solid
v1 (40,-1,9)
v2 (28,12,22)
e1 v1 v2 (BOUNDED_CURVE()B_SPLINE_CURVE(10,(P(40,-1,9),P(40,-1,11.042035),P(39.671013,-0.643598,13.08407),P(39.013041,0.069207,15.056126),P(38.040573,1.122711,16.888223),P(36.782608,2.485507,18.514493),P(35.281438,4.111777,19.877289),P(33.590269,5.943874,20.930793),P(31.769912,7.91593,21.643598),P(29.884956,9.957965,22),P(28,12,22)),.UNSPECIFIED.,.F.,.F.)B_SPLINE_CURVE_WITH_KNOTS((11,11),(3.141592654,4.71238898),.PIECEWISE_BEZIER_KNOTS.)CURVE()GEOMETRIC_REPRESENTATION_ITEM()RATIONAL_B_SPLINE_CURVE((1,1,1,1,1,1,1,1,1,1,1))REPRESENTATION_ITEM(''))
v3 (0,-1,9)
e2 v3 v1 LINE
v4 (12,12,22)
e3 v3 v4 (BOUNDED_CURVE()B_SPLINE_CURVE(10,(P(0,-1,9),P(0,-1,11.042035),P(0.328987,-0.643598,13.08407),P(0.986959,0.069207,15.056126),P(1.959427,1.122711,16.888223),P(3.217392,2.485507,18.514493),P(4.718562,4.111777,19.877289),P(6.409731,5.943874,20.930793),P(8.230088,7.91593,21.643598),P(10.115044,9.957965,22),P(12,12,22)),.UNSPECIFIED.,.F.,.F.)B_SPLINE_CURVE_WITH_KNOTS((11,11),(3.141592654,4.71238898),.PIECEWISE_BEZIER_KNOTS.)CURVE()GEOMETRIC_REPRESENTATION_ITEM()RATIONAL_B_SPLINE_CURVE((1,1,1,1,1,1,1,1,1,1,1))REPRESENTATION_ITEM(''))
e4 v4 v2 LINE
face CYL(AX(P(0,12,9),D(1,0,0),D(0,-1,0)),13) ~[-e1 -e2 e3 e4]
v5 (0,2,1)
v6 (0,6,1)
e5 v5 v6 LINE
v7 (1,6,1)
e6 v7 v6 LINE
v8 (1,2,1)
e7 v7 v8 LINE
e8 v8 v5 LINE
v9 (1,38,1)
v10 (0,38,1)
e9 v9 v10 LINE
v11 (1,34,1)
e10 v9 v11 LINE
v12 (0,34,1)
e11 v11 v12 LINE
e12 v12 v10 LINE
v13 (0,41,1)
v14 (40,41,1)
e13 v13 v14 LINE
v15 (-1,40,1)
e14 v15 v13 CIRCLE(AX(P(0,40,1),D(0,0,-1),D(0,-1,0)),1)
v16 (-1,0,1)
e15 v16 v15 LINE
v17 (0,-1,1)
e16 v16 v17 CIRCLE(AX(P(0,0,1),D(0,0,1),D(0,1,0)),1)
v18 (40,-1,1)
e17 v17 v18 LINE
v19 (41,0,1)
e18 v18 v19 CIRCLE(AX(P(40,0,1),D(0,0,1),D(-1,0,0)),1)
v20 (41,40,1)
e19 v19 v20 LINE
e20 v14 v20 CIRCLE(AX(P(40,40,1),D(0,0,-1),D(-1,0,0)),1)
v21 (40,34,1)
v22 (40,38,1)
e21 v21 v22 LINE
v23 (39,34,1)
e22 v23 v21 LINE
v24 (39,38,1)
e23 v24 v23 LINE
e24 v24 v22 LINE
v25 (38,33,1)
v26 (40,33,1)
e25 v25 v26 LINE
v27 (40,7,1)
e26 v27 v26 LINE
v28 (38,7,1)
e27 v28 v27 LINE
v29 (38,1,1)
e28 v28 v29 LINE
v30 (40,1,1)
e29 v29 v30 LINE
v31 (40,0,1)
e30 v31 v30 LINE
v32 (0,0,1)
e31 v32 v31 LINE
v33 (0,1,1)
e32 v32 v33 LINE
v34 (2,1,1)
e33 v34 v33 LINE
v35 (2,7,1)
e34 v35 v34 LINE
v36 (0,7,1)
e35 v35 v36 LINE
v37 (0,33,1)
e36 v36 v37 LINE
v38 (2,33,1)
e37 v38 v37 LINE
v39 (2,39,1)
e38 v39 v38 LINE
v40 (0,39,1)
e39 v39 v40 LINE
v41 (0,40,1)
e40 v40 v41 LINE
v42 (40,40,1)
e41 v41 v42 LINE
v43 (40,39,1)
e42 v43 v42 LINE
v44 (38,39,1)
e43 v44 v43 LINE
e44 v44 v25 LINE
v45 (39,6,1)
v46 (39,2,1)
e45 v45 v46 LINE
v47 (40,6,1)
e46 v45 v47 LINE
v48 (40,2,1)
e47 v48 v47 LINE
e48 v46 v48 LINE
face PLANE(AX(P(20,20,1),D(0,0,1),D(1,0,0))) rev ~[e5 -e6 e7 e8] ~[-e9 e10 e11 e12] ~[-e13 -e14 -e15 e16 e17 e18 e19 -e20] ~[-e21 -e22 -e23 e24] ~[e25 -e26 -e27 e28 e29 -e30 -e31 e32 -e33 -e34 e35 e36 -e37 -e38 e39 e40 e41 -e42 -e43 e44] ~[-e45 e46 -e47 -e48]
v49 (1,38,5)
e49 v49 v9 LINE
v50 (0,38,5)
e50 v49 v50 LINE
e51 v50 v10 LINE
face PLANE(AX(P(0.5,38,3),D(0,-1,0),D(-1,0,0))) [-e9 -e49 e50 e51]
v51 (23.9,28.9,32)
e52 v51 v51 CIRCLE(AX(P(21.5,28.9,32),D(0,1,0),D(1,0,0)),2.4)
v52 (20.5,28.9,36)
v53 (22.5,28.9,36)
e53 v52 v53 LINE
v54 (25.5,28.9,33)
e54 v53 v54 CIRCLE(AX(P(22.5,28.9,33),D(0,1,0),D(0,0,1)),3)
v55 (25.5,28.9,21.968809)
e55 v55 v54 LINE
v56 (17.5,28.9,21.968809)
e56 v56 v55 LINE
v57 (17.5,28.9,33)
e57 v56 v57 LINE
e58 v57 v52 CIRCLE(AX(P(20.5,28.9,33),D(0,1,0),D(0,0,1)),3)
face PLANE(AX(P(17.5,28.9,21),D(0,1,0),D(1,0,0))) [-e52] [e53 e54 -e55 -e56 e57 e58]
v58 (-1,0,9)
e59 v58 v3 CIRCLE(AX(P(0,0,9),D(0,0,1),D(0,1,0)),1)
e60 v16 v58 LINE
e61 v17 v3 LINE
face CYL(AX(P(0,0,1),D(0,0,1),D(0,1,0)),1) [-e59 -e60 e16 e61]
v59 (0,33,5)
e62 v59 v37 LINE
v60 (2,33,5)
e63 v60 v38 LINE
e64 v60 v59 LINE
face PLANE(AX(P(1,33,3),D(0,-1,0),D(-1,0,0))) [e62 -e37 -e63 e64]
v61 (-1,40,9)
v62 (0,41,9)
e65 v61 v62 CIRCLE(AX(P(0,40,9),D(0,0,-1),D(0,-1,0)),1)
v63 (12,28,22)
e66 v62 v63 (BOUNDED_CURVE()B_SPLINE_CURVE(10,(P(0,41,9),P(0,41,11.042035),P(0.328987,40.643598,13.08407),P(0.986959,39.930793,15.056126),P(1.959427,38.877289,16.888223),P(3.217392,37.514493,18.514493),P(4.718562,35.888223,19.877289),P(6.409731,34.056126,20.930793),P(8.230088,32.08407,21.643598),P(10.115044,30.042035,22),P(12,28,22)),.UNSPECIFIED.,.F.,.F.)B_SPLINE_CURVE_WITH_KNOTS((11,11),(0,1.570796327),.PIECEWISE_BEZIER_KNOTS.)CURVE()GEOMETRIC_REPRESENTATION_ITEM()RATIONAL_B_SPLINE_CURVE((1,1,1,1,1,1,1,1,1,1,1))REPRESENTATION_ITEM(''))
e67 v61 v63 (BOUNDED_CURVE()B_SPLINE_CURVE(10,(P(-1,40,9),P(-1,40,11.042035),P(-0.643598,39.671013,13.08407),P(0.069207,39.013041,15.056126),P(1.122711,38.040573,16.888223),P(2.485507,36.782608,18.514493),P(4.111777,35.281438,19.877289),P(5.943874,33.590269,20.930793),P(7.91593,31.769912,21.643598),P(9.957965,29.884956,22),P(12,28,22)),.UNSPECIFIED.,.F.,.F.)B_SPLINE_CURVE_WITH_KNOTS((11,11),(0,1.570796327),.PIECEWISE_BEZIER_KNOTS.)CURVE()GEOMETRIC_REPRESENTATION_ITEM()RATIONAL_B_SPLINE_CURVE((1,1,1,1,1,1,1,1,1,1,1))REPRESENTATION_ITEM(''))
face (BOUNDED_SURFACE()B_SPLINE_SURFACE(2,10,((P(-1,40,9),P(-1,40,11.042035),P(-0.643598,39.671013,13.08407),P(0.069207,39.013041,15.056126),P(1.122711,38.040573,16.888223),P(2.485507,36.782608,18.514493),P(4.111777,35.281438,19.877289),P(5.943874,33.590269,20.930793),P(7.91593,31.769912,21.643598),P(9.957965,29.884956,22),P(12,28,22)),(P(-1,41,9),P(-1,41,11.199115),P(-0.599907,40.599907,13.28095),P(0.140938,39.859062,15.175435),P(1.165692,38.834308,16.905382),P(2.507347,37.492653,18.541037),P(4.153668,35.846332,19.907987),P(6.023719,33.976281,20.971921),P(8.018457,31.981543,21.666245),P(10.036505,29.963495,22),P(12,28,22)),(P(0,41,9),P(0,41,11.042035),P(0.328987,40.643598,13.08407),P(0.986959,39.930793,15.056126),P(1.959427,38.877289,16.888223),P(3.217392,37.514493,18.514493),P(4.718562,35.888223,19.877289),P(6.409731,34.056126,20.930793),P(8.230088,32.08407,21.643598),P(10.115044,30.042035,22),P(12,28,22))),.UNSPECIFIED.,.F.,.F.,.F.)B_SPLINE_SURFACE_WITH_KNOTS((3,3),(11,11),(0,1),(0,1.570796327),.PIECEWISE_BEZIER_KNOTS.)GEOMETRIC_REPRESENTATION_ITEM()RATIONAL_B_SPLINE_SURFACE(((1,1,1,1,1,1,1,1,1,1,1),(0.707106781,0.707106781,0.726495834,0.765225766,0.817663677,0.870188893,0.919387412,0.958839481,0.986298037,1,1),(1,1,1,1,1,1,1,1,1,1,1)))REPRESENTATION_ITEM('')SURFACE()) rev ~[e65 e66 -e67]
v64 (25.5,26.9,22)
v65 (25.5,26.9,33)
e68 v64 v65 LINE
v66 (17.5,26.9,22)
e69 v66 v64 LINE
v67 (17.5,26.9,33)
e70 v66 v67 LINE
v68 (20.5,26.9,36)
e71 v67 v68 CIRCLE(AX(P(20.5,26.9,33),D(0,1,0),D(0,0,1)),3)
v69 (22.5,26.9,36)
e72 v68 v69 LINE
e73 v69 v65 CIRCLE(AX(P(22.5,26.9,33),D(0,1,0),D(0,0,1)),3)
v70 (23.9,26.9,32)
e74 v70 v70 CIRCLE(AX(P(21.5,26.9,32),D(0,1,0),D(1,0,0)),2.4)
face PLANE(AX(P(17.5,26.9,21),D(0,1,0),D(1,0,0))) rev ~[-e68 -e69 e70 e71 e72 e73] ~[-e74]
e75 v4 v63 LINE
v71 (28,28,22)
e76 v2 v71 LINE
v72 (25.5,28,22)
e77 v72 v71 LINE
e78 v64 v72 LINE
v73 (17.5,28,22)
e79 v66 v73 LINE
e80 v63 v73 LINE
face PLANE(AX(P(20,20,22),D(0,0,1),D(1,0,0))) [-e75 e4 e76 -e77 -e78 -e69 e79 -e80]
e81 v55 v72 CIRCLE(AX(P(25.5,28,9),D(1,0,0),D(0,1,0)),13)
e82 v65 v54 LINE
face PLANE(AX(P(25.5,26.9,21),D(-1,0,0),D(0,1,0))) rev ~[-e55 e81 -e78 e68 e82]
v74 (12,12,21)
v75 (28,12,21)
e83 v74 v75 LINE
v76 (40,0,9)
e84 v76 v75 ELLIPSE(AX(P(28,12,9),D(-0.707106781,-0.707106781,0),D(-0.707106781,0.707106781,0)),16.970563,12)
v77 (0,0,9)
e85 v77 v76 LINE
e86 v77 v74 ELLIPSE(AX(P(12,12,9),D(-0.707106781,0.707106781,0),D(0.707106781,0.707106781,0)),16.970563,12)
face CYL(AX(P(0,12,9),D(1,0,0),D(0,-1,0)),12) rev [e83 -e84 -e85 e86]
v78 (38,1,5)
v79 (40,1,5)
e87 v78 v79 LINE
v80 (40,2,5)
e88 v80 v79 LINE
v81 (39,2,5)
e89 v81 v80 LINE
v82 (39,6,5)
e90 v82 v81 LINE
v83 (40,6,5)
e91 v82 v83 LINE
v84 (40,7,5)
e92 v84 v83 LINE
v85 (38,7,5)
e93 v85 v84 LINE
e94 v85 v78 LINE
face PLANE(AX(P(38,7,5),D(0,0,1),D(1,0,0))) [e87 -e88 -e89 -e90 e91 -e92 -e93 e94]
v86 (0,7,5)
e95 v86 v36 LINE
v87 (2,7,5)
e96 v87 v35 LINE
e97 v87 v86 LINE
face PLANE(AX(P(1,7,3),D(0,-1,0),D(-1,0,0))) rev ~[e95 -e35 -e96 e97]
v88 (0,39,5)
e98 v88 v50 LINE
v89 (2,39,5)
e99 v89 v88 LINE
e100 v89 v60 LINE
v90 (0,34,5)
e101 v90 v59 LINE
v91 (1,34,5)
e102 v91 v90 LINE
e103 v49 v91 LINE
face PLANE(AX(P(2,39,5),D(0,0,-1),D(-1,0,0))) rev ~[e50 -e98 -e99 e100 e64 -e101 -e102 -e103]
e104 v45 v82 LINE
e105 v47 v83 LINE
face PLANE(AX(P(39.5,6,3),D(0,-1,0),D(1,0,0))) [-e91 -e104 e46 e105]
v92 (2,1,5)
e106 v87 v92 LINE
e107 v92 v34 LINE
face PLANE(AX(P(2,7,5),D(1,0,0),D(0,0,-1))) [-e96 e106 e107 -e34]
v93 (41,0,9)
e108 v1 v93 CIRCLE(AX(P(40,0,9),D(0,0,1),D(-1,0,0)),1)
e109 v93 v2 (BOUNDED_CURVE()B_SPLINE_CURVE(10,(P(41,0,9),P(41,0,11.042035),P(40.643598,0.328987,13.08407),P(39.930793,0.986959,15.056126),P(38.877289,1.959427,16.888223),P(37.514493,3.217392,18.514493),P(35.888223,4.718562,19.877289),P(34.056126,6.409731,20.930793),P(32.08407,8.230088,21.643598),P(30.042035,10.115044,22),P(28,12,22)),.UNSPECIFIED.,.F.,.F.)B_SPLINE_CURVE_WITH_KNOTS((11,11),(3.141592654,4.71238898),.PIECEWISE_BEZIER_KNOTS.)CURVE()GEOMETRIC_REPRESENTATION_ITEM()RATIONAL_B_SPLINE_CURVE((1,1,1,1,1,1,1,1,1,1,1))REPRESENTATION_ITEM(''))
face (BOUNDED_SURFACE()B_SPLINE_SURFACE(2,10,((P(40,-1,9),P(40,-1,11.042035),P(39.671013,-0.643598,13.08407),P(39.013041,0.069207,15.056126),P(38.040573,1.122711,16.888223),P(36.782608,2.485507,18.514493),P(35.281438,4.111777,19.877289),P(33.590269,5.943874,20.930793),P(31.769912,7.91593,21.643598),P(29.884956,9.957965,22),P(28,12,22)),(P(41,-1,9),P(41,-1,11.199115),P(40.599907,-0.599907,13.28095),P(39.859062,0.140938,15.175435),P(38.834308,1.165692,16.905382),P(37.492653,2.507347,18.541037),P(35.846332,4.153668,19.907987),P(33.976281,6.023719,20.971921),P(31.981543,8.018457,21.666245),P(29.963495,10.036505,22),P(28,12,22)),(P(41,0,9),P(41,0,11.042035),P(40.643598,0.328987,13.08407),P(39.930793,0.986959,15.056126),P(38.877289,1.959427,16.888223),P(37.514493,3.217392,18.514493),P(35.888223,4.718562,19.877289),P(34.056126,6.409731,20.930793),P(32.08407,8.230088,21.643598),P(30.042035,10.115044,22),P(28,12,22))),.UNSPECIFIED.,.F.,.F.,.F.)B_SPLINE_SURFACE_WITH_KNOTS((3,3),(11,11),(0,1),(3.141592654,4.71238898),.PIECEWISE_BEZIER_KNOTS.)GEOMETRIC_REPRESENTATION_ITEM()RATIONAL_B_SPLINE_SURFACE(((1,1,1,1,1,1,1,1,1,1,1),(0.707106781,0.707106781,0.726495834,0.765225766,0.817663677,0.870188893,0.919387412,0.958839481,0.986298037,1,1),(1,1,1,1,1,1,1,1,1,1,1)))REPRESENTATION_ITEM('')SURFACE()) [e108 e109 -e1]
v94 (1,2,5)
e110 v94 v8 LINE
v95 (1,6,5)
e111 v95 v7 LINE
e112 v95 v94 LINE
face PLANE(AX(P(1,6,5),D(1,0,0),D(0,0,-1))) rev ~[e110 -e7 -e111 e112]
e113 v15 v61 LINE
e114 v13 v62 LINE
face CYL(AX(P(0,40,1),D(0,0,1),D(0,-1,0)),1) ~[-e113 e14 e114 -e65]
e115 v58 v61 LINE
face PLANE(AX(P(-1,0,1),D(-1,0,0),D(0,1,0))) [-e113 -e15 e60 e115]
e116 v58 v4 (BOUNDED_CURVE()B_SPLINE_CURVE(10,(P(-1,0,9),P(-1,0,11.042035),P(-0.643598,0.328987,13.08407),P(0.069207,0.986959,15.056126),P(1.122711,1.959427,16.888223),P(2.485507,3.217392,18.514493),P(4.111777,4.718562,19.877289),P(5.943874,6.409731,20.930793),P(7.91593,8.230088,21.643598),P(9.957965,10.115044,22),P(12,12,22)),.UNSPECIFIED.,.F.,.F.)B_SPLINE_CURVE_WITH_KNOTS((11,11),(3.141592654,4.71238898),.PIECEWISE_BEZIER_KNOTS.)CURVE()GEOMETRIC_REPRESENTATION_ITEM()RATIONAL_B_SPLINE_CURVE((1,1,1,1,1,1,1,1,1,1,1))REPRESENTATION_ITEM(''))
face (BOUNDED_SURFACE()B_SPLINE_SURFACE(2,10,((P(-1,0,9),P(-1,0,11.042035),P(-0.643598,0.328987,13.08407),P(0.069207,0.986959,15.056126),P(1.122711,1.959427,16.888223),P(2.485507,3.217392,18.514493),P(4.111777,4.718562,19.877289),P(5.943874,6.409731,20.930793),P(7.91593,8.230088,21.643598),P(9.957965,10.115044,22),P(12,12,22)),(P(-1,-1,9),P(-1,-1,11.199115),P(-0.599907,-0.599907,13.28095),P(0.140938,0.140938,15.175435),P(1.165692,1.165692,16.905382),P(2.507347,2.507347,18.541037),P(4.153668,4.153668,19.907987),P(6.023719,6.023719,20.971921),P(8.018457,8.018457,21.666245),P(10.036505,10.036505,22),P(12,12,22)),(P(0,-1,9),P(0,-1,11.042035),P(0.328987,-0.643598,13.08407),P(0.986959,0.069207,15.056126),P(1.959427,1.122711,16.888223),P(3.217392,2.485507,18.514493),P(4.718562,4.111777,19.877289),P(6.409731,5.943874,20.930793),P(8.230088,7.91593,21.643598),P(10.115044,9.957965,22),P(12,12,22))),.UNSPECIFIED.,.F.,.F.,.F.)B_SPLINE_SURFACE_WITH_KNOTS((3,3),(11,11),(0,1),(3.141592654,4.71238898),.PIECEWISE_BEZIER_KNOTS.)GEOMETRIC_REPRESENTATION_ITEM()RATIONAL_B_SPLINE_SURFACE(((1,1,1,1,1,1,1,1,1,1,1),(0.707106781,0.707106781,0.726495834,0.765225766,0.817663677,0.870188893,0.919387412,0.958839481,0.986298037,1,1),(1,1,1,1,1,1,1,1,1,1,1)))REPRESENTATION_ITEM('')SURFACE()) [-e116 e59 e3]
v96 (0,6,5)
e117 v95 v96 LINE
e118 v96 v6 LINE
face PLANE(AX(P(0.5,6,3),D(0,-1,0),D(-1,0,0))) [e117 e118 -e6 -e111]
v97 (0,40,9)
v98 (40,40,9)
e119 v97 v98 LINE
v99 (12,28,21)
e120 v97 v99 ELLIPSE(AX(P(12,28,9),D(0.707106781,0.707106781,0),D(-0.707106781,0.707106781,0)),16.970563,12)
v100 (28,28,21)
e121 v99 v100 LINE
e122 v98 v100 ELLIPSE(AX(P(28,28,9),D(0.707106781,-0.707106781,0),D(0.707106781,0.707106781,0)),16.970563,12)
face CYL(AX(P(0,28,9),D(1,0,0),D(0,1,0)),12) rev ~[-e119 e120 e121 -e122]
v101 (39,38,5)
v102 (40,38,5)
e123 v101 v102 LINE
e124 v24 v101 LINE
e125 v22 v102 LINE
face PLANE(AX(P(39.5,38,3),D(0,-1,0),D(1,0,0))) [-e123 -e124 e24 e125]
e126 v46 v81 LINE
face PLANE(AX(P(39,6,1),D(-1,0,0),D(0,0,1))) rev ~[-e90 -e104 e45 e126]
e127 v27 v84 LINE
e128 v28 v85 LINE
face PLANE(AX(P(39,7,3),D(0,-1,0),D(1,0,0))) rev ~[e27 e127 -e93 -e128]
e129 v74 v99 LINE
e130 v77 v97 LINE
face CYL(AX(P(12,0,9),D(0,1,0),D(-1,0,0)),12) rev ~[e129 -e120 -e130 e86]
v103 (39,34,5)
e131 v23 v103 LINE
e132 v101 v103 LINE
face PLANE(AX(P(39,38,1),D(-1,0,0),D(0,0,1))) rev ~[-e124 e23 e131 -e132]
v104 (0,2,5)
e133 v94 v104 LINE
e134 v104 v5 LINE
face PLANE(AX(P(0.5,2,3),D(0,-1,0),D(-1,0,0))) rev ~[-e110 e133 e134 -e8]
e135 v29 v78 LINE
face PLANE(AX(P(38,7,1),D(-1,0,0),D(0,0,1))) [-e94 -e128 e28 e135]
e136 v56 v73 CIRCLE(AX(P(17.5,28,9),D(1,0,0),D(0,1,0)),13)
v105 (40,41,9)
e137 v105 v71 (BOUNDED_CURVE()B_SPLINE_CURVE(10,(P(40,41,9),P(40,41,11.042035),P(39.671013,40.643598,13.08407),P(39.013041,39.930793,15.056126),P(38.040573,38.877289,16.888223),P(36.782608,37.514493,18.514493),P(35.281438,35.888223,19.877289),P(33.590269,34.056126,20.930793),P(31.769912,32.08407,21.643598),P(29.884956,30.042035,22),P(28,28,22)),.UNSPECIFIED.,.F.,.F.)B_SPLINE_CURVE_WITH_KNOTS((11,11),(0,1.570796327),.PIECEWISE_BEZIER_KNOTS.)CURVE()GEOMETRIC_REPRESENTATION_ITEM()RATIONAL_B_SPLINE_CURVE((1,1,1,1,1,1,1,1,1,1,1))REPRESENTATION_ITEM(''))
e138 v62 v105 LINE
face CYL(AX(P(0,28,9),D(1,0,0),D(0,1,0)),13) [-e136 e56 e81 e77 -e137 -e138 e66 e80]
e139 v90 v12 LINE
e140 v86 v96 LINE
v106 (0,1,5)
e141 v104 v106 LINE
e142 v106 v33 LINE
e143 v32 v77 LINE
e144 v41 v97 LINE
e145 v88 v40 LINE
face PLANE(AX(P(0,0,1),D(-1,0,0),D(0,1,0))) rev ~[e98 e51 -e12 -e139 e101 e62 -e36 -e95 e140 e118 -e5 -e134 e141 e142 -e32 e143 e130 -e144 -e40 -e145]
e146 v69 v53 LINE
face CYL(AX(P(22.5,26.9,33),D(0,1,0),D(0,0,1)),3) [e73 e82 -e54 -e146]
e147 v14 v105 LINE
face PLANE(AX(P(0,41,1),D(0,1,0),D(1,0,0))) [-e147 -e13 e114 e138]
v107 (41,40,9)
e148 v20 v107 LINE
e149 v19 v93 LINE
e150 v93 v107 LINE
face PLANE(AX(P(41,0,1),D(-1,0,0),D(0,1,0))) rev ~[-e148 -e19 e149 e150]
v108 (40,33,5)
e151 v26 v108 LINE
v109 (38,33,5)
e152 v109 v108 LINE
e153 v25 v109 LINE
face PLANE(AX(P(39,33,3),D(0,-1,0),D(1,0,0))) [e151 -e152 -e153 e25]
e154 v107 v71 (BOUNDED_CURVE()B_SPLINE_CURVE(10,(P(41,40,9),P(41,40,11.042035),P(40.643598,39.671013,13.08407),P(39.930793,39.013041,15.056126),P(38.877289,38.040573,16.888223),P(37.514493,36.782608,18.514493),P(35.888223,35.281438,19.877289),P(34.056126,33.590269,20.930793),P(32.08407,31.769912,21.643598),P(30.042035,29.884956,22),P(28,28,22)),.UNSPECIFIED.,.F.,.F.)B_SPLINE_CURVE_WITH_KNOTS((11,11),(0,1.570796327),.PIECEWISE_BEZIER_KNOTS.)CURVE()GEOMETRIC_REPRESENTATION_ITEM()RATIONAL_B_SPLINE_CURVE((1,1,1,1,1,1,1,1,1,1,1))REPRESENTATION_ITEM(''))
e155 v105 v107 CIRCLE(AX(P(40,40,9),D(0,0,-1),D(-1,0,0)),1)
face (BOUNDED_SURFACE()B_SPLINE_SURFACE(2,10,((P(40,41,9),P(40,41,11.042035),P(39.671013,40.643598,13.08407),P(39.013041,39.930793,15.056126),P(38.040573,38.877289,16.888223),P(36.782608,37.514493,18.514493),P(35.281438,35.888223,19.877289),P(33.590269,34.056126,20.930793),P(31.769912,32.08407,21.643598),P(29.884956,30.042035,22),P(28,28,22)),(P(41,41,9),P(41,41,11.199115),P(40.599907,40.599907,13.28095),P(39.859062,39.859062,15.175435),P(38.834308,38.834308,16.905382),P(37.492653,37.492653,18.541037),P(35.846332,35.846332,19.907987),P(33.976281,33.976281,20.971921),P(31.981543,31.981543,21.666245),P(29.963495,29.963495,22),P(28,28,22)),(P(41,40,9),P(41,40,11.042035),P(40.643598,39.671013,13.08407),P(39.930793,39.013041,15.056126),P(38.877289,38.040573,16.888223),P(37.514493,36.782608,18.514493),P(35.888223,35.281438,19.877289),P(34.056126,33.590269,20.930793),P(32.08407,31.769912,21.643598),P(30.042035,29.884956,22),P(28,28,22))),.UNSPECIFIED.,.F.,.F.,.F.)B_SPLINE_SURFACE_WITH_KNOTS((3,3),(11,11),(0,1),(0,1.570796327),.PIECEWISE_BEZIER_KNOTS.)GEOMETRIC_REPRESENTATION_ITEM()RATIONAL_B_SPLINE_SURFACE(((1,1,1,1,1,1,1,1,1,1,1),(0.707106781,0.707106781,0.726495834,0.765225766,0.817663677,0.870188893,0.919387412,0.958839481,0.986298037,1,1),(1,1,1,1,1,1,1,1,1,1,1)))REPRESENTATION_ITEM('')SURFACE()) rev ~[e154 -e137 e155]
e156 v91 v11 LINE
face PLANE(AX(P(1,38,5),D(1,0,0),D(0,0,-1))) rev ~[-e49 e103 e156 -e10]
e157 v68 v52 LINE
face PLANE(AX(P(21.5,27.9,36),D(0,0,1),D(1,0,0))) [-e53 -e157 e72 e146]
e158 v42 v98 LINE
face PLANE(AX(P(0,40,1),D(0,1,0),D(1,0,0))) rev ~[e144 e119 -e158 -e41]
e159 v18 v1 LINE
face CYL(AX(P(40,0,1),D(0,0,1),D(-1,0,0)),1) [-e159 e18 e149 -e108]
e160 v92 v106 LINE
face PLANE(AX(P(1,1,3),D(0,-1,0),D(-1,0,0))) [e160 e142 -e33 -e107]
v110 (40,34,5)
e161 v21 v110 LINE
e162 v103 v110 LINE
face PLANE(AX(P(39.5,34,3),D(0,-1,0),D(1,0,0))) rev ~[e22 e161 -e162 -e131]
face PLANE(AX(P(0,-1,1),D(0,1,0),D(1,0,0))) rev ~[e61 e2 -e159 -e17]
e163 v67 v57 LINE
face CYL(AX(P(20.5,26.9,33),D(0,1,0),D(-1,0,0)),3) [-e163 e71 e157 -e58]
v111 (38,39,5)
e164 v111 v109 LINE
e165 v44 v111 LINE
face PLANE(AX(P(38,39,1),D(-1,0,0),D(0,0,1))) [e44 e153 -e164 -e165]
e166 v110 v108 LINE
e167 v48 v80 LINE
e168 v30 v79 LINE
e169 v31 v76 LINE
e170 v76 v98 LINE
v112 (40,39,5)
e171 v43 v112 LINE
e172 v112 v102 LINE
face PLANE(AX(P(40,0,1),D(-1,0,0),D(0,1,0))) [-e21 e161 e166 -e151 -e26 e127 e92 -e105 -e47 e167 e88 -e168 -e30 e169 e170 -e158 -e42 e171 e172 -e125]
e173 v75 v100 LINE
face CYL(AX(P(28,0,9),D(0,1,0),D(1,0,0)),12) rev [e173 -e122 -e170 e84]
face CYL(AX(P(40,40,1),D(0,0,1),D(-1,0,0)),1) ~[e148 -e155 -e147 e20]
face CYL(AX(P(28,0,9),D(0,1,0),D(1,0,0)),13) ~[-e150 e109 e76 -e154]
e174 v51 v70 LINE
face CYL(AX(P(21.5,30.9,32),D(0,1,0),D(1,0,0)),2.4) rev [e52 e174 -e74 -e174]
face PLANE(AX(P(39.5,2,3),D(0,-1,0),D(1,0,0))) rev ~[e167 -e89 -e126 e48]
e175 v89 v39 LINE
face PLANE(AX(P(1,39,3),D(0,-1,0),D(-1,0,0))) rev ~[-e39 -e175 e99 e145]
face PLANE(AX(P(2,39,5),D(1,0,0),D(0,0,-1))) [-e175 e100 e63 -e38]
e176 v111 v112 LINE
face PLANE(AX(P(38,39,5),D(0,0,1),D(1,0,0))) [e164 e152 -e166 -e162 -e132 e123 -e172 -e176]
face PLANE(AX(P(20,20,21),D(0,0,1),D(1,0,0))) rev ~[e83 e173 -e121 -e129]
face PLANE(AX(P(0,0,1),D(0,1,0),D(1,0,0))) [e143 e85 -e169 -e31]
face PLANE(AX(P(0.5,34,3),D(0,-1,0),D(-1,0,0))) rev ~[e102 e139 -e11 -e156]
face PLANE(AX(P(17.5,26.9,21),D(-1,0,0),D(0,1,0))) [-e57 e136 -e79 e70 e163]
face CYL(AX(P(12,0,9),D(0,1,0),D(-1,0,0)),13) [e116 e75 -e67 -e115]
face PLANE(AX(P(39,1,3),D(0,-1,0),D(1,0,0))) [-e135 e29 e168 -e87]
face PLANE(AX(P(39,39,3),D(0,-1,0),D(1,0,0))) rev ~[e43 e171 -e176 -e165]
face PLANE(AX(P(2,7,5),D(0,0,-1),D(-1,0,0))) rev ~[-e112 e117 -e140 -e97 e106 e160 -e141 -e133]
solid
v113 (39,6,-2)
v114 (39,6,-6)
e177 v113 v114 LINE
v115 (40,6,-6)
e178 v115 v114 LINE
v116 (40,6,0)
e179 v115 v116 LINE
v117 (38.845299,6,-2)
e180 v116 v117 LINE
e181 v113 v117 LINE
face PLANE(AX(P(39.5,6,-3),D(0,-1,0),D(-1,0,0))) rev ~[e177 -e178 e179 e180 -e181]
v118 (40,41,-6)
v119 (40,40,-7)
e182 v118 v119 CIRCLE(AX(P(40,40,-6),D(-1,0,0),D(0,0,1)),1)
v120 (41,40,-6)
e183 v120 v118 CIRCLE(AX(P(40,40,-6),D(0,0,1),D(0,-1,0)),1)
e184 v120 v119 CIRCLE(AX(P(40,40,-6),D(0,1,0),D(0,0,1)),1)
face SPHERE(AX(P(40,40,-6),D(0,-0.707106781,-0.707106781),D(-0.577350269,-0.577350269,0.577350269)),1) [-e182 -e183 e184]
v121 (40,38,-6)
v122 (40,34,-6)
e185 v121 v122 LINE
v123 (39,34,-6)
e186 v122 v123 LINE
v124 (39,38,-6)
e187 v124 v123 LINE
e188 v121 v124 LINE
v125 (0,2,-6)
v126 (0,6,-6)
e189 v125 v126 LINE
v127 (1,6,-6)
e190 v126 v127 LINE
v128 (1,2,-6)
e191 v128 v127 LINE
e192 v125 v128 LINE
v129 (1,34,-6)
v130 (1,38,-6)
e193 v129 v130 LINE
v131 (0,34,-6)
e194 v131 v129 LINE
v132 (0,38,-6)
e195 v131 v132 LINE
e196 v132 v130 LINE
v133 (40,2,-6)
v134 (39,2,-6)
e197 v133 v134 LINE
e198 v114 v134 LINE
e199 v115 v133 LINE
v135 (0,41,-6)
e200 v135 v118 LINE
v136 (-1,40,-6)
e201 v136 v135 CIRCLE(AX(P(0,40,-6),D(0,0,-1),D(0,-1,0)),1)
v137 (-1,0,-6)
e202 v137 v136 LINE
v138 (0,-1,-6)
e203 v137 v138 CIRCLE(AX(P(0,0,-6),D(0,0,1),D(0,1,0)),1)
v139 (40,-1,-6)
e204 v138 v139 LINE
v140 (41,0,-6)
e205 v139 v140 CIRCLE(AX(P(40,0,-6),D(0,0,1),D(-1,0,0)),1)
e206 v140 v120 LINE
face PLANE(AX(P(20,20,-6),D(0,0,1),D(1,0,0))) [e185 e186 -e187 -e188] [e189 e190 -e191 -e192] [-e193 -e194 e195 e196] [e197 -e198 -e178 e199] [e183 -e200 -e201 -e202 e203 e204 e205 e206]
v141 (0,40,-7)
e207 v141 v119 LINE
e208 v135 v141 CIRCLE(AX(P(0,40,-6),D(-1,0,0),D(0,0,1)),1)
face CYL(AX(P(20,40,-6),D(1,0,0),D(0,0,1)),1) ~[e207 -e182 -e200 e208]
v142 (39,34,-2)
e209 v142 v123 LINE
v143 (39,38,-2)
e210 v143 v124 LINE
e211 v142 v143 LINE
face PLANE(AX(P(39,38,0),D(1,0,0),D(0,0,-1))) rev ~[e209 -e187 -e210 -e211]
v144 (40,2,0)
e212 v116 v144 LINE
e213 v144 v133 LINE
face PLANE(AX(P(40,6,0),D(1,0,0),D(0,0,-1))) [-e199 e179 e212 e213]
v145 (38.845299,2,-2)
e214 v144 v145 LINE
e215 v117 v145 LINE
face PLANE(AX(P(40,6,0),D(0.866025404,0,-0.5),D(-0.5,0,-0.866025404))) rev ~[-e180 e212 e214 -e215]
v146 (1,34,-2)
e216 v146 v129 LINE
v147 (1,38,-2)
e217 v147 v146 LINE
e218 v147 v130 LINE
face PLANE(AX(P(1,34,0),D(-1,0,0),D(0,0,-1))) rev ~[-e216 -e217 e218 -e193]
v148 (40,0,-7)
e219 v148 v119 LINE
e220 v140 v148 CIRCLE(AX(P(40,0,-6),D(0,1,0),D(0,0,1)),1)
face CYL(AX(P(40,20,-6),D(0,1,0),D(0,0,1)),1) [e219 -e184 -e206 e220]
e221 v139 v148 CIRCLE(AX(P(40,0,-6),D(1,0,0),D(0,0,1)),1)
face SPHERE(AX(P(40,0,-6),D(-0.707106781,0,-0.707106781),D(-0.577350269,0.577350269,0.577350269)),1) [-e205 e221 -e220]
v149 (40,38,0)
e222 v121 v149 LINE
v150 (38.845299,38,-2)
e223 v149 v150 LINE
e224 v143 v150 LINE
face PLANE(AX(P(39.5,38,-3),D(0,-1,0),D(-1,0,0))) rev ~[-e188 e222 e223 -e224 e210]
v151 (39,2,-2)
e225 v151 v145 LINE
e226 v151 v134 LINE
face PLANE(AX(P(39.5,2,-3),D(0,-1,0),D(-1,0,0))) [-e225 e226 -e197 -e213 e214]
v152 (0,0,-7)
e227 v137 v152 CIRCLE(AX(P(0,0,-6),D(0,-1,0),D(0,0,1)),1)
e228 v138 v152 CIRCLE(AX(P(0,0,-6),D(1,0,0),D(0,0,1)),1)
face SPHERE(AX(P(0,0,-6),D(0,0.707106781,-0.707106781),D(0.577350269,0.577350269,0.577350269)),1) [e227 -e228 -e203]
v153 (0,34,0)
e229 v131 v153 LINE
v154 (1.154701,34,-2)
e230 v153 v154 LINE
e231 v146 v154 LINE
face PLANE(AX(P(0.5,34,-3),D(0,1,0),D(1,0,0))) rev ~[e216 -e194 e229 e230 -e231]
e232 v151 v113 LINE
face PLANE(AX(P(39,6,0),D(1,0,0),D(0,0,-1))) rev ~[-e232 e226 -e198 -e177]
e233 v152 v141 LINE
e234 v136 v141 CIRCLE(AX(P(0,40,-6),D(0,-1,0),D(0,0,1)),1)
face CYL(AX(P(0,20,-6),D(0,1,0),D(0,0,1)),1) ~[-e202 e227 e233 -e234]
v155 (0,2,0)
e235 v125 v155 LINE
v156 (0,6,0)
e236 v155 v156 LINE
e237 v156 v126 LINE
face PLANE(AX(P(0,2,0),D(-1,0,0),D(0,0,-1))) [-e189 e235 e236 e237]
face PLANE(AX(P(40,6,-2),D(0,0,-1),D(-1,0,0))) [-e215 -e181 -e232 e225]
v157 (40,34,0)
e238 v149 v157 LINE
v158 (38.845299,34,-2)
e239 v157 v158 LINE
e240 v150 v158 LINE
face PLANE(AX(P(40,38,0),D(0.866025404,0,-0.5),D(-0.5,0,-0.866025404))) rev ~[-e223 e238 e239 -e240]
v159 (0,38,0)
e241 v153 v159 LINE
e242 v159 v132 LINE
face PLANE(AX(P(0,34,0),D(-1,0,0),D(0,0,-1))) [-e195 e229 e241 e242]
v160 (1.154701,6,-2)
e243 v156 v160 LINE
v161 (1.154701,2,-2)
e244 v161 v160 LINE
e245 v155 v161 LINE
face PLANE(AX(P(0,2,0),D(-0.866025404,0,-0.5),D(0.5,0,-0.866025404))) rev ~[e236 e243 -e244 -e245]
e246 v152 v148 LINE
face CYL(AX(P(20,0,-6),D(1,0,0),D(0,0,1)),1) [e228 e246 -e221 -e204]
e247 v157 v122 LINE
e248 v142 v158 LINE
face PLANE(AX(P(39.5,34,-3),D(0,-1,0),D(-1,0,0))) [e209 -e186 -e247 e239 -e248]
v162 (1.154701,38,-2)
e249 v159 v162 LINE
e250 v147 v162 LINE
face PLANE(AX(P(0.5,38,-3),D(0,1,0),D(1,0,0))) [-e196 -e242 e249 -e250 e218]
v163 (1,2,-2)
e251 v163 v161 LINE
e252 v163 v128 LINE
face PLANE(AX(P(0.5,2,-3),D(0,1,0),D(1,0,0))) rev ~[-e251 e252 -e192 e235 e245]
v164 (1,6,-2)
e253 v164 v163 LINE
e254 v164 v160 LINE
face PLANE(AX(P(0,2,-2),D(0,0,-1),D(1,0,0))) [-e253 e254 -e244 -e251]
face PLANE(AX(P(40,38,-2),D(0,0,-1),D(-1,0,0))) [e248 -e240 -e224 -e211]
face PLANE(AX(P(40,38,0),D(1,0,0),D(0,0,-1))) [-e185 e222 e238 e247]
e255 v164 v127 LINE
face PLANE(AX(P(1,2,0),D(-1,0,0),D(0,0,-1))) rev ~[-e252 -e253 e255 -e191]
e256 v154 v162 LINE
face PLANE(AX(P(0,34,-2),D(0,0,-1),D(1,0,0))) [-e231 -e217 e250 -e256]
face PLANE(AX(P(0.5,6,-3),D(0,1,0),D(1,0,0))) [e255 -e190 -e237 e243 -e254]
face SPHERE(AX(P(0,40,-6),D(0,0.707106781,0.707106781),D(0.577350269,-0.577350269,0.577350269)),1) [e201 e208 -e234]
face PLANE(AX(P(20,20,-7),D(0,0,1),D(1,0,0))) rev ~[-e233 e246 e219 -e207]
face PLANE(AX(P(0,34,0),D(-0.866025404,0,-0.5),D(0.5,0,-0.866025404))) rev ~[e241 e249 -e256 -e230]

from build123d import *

# Parameters (mm, degrees)
BOX056_W               = 40
BOX056_H               = 40
BOX056_DEPTH           = 20
FILLET007_R            = 12
THICKNESS008_T         = 1
BOX064_W               = 1
BOX064_H               = 4
BOX064_DEPTH           = 4
BOX063_W               = 2
BOX063_H               = 4
BOX063_DEPTH           = 6
CUT027_ROLL_ANGLE      = -90
CUT027_PLACEMENT_ANGLE = 180
BOX062_W               = 1
BOX062_H               = 4
BOX062_DEPTH           = 4
BOX061_W               = 2
BOX061_H               = 4
BOX061_DEPTH           = 6
CUT026_ROLL_ANGLE      = -90
CUT026_PLACEMENT_ANGLE = 180
BOX060_W               = 1
BOX060_H               = 4
BOX060_DEPTH           = 4
BOX059_W               = 2
BOX059_H               = 4
BOX059_DEPTH           = 6
CUT025_PLACEMENT_ANGLE = 90
BOX058_W               = 1
BOX058_H               = 4
BOX058_DEPTH           = 4
BOX057_W               = 2
BOX057_H               = 4
BOX057_DEPTH           = 6
CUT024_PLACEMENT_ANGLE = 90
CYLINDER014_R          = 2.4
CYLINDER014_DEPTH      = 10
BOX053_W               = 8
BOX053_H               = 2
BOX053_DEPTH           = 15
FILLET005_R            = 3
BOX066_W               = 2
BOX066_H               = 3
BOX066_DEPTH           = 4
BOX066_PLACEMENT_ANGLE = 30
BOX068_W               = 1.2
BOX068_H               = 2
BOX068_DEPTH           = 4
BOX067_W               = 1
BOX067_H               = 6
BOX067_DEPTH           = 4
CUT028_PLACEMENT_ANGLE = 90
BOX069_W               = 2
BOX069_H               = 3
BOX069_DEPTH           = 4
BOX069_PLACEMENT_ANGLE = 30
BOX071_W               = 1.2
BOX071_H               = 2
BOX071_DEPTH           = 4
BOX070_W               = 1
BOX070_H               = 6
BOX070_DEPTH           = 4
CUT029_PLACEMENT_ANGLE = 90
BOX072_W               = 2
BOX072_H               = 3
BOX072_DEPTH           = 4
BOX072_PLACEMENT_ANGLE = 30
BOX074_W               = 1.2
BOX074_H               = 2
BOX074_DEPTH           = 4
BOX073_W               = 1
BOX073_H               = 6
BOX073_DEPTH           = 4
CUT030_ROLL_ANGLE      = -90
CUT030_PLACEMENT_ANGLE = 180
BOX075_W               = 2
BOX075_H               = 3
BOX075_DEPTH           = 4
BOX075_PLACEMENT_ANGLE = 30
BOX077_W               = 1.2
BOX077_H               = 2
BOX077_DEPTH           = 4
BOX076_W               = 1
BOX076_H               = 6
BOX076_DEPTH           = 4
CUT031_ROLL_ANGLE      = -90
CUT031_PLACEMENT_ANGLE = 180
BOX065_W               = 40
BOX065_H               = 40
BOX065_DEPTH           = 20
THICKNESS007_T         = 1
BOX055_W               = 42
BOX055_H               = 42
BOX055_DEPTH           = 1


with BuildPart() as thickness008:
    # Box056 → Box056 (new body)
    with BuildSketch(Plane.XY):
        with Locations((20, 20)):
            Rectangle(BOX056_W, BOX056_H)
    extrude(amount=BOX056_DEPTH)

    # Fillet007
    fillet007_edges = [thickness008.edges().sort_by_distance(p)[0] for p in [
        (0, 20, 20),
        (40, 20, 20),
        (20, 0, 20),
        (20, 40, 20),
    ]]
    fillet(fillet007_edges, radius=FILLET007_R)


with BuildPart() as thickness008_1:
    # Fillet007 placement: moved
    add(thickness008.part.moved(Location((0, 0, 1))))

    # Thickness008
    thickness008_openings = [thickness008_1.faces().sort_by_distance(p)[0] for p in [
        (20, 20, 1),
    ]]
    offset(amount=THICKNESS008_T, openings=thickness008_openings)


with BuildPart() as cube045:
    # Box064 → Box064 (new body)
    with BuildSketch(Plane(origin=(1, 0, 1), x_dir=(1, 0, 0), z_dir=(0, 0, 1))):
        with Locations((0.5, 2)):
            Rectangle(BOX064_W, BOX064_H)
    extrude(amount=BOX064_DEPTH)


with BuildPart() as cut027:
    # Box063 → Box063 (new body)
    with BuildSketch(Plane.XY):
        with Locations((1, 2)):
            Rectangle(BOX063_W, BOX063_H)
    extrude(amount=BOX063_DEPTH)

    # Cut027: cut Cube045
    add(cube045.part, mode=Mode.SUBTRACT)


with BuildPart() as cut027_1:
    # Cut027 roll: moved
    add(cut027.part.rotate(Axis((0, 0, 0), (1, 0, 0)), CUT027_ROLL_ANGLE))


with BuildPart() as cut027_2:
    # Cut027 placement: moved
    add(cut027_1.part.moved(Location((2, 39, 5))).rotate(Axis((2, 39, 5), (0, 0, 1)), CUT027_PLACEMENT_ANGLE))


with BuildPart() as cube043:
    # Box062 → Box062 (new body)
    with BuildSketch(Plane(origin=(1, 0, 1), x_dir=(1, 0, 0), z_dir=(0, 0, 1))):
        with Locations((0.5, 2)):
            Rectangle(BOX062_W, BOX062_H)
    extrude(amount=BOX062_DEPTH)


with BuildPart() as cut026:
    # Box061 → Box061 (new body)
    with BuildSketch(Plane.XY):
        with Locations((1, 2)):
            Rectangle(BOX061_W, BOX061_H)
    extrude(amount=BOX061_DEPTH)

    # Cut026: cut Cube043
    add(cube043.part, mode=Mode.SUBTRACT)


with BuildPart() as cut026_1:
    # Cut026 roll: moved
    add(cut026.part.rotate(Axis((0, 0, 0), (1, 0, 0)), CUT026_ROLL_ANGLE))


with BuildPart() as cut026_2:
    # Cut026 placement: moved
    add(cut026_1.part.moved(Location((2, 7, 5))).rotate(Axis((2, 7, 5), (0, 0, 1)), CUT026_PLACEMENT_ANGLE))


with BuildPart() as cube041:
    # Box060 → Box060 (new body)
    with BuildSketch(Plane(origin=(1, 0, 1), x_dir=(1, 0, 0), z_dir=(0, 0, 1))):
        with Locations((0.5, 2)):
            Rectangle(BOX060_W, BOX060_H)
    extrude(amount=BOX060_DEPTH)


with BuildPart() as cut025:
    # Box059 → Box059 (new body)
    with BuildSketch(Plane.XY):
        with Locations((1, 2)):
            Rectangle(BOX059_W, BOX059_H)
    extrude(amount=BOX059_DEPTH)

    # Cut025: cut Cube041
    add(cube041.part, mode=Mode.SUBTRACT)


with BuildPart() as cut025_1:
    # Cut025 placement: moved
    add(cut025.part.moved(Location((38, 39, 1))).rotate(Axis((38, 39, 1), (1, 0, 0)), CUT025_PLACEMENT_ANGLE))


with BuildPart() as cube039:
    # Box058 → Box058 (new body)
    with BuildSketch(Plane(origin=(1, 0, 1), x_dir=(1, 0, 0), z_dir=(0, 0, 1))):
        with Locations((0.5, 2)):
            Rectangle(BOX058_W, BOX058_H)
    extrude(amount=BOX058_DEPTH)


with BuildPart() as cut024:
    # Box057 → Box057 (new body)
    with BuildSketch(Plane.XY):
        with Locations((1, 2)):
            Rectangle(BOX057_W, BOX057_H)
    extrude(amount=BOX057_DEPTH)

    # Cut024: cut Cube039
    add(cube039.part, mode=Mode.SUBTRACT)


with BuildPart() as cut024_1:
    # Cut024 placement: moved
    add(cut024.part.moved(Location((38, 7, 1))).rotate(Axis((38, 7, 1), (1, 0, 0)), CUT024_PLACEMENT_ANGLE))


with BuildPart() as cylindre014:
    # Cylinder014 → Cylinder014 (new body)
    with BuildSketch(Plane(origin=(4, 4, 11), x_dir=(1, 0, 0), z_dir=(0, -1, 0))):
        Circle(CYLINDER014_R)
    extrude(amount=CYLINDER014_DEPTH)


with BuildPart() as paw_body:
    # Box053 → Box053 (new body)
    with BuildSketch(Plane.XY):
        with Locations((4, 1)):
            Rectangle(BOX053_W, BOX053_H)
    extrude(amount=BOX053_DEPTH)

    # Cut022: cut Cylindre014
    add(cylindre014.part, mode=Mode.SUBTRACT)


with BuildPart() as paw_body_1:
    # Cut022 placement: moved
    add(paw_body.part.moved(Location((17.5, 26.9, 86))))

    # Fillet005
    fillet005_edges = [paw_body_1.edges().sort_by_distance(p)[0] for p in [
        (17.5, 27.9, 101),
        (25.5, 27.9, 101),
    ]]
    fillet(fillet005_edges, radius=FILLET005_R)


with BuildPart() as paw_body_2:
    # Fillet005 placement: moved
    add(paw_body_1.part.moved(Location((0, 0, -65))))

    # Fusion021: union Thickness008, Cut027, Cut026, Cut025, Cut024
    add(thickness008_1.part)
    add(cut027_2.part)
    add(cut026_2.part)
    add(cut025_1.part)
    add(cut024_1.part)


with BuildPart() as cube046:
    # Box066 → Box066 (new body)
    with BuildSketch(Plane.XY):
        with Locations((1, 1.5)):
            Rectangle(BOX066_W, BOX066_H)
    extrude(amount=BOX066_DEPTH)


with BuildPart() as cube046_1:
    # Box066 placement: moved
    add(cube046.part.moved(Location((1, 0, 1))).rotate(Axis((1, 0, 1), (0, 0, -1)), BOX066_PLACEMENT_ANGLE))


with BuildPart() as cube048:
    # Box068 → Box068 (new body)
    with BuildSketch(Plane(origin=(1, 0, 1), x_dir=(1, 0, 0), z_dir=(0, 0, 1))):
        with Locations((0.6, 1)):
            Rectangle(BOX068_W, BOX068_H)
    extrude(amount=BOX068_DEPTH)


with BuildPart() as cut028:
    # Box067 → Box067 (new body)
    with BuildSketch(Plane(origin=(1, 0, 1), x_dir=(1, 0, 0), z_dir=(0, 0, 1))):
        with Locations((0.5, 3)):
            Rectangle(BOX067_W, BOX067_H)
    extrude(amount=BOX067_DEPTH)

    # Fusion022: union Cube048
    add(cube048.part)

    # Cut028: cut Cube046
    add(cube046_1.part, mode=Mode.SUBTRACT)


with BuildPart() as cut028_1:
    # Cut028 placement: moved
    add(cut028.part.moved(Location((-1, 1, 0))).rotate(Axis((-1, 1, 0), (-1, 0, 0)), CUT028_PLACEMENT_ANGLE))


with BuildPart() as cube049:
    # Box069 → Box069 (new body)
    with BuildSketch(Plane.XY):
        with Locations((1, 1.5)):
            Rectangle(BOX069_W, BOX069_H)
    extrude(amount=BOX069_DEPTH)


with BuildPart() as cube049_1:
    # Box069 placement: moved
    add(cube049.part.moved(Location((1, 0, 1))).rotate(Axis((1, 0, 1), (0, 0, -1)), BOX069_PLACEMENT_ANGLE))


with BuildPart() as cube051:
    # Box071 → Box071 (new body)
    with BuildSketch(Plane(origin=(1, 0, 1), x_dir=(1, 0, 0), z_dir=(0, 0, 1))):
        with Locations((0.6, 1)):
            Rectangle(BOX071_W, BOX071_H)
    extrude(amount=BOX071_DEPTH)


with BuildPart() as cut029:
    # Box070 → Box070 (new body)
    with BuildSketch(Plane(origin=(1, 0, 1), x_dir=(1, 0, 0), z_dir=(0, 0, 1))):
        with Locations((0.5, 3)):
            Rectangle(BOX070_W, BOX070_H)
    extrude(amount=BOX070_DEPTH)

    # Fusion023: union Cube051
    add(cube051.part)

    # Cut029: cut Cube049
    add(cube049_1.part, mode=Mode.SUBTRACT)


with BuildPart() as cut029_1:
    # Cut029 placement: moved
    add(cut029.part.moved(Location((-1, 33, 0))).rotate(Axis((-1, 33, 0), (-1, 0, 0)), CUT029_PLACEMENT_ANGLE))


with BuildPart() as cube052:
    # Box072 → Box072 (new body)
    with BuildSketch(Plane.XY):
        with Locations((1, 1.5)):
            Rectangle(BOX072_W, BOX072_H)
    extrude(amount=BOX072_DEPTH)


with BuildPart() as cube052_1:
    # Box072 placement: moved
    add(cube052.part.moved(Location((1, 0, 1))).rotate(Axis((1, 0, 1), (0, 0, -1)), BOX072_PLACEMENT_ANGLE))


with BuildPart() as cube054:
    # Box074 → Box074 (new body)
    with BuildSketch(Plane(origin=(1, 0, 1), x_dir=(1, 0, 0), z_dir=(0, 0, 1))):
        with Locations((0.6, 1)):
            Rectangle(BOX074_W, BOX074_H)
    extrude(amount=BOX074_DEPTH)


with BuildPart() as cut030:
    # Box073 → Box073 (new body)
    with BuildSketch(Plane(origin=(1, 0, 1), x_dir=(1, 0, 0), z_dir=(0, 0, 1))):
        with Locations((0.5, 3)):
            Rectangle(BOX073_W, BOX073_H)
    extrude(amount=BOX073_DEPTH)

    # Fusion024: union Cube054
    add(cube054.part)

    # Cut030: cut Cube052
    add(cube052_1.part, mode=Mode.SUBTRACT)


with BuildPart() as cut030_1:
    # Cut030 roll: moved
    add(cut030.part.rotate(Axis((0, 0, 0), (1, 0, 0)), CUT030_ROLL_ANGLE))


with BuildPart() as cut030_2:
    # Cut030 placement: moved
    add(cut030_1.part.moved(Location((41, 7, 0))).rotate(Axis((41, 7, 0), (0, 0, 1)), CUT030_PLACEMENT_ANGLE))


with BuildPart() as cube055:
    # Box075 → Box075 (new body)
    with BuildSketch(Plane.XY):
        with Locations((1, 1.5)):
            Rectangle(BOX075_W, BOX075_H)
    extrude(amount=BOX075_DEPTH)


with BuildPart() as cube055_1:
    # Box075 placement: moved
    add(cube055.part.moved(Location((1, 0, 1))).rotate(Axis((1, 0, 1), (0, 0, -1)), BOX075_PLACEMENT_ANGLE))


with BuildPart() as cube057:
    # Box077 → Box077 (new body)
    with BuildSketch(Plane(origin=(1, 0, 1), x_dir=(1, 0, 0), z_dir=(0, 0, 1))):
        with Locations((0.6, 1)):
            Rectangle(BOX077_W, BOX077_H)
    extrude(amount=BOX077_DEPTH)


with BuildPart() as cut031:
    # Box076 → Box076 (new body)
    with BuildSketch(Plane(origin=(1, 0, 1), x_dir=(1, 0, 0), z_dir=(0, 0, 1))):
        with Locations((0.5, 3)):
            Rectangle(BOX076_W, BOX076_H)
    extrude(amount=BOX076_DEPTH)

    # Fusion025: union Cube057
    add(cube057.part)

    # Cut031: cut Cube055
    add(cube055_1.part, mode=Mode.SUBTRACT)


with BuildPart() as cut031_1:
    # Cut031 roll: moved
    add(cut031.part.rotate(Axis((0, 0, 0), (1, 0, 0)), CUT031_ROLL_ANGLE))


with BuildPart() as cut031_2:
    # Cut031 placement: moved
    add(cut031_1.part.moved(Location((41, 39, 0))).rotate(Axis((41, 39, 0), (0, 0, 1)), CUT031_PLACEMENT_ANGLE))


with BuildPart() as thickness007:
    # Box065 → Box065 (new body)
    with BuildSketch(Plane.XY):
        with Locations((20, 20)):
            Rectangle(BOX065_W, BOX065_H)
    extrude(amount=BOX065_DEPTH)

    # Thickness007
    thickness007_openings = [thickness007.faces().sort_by_distance(p)[0] for p in [
        (20, 20, 20),
    ]]
    offset(amount=THICKNESS007_T, openings=thickness007_openings)


with BuildPart() as paw_side:
    # Box055 → Box055 (new body)
    with BuildSketch(Plane(origin=(-1, -1, -1), x_dir=(1, 0, 0), z_dir=(0, 0, 1))):
        with Locations((21, 21)):
            Rectangle(BOX055_W, BOX055_H)
    extrude(amount=BOX055_DEPTH)

    # Common001: intersect Thickness007
    add(thickness007.part, mode=Mode.INTERSECT)


with BuildPart() as paw_side_1:
    # Common001 placement: moved
    add(paw_side.part.moved(Location((0, 0, -6))))

    # Fusion026: union Cut028, Cut029, Cut030, Cut031
    add(cut028_1.part)
    add(cut029_1.part)
    add(cut030_2.part)
    add(cut031_2.part)


solid = Compound([paw_body_2.part, paw_side_1.part])
